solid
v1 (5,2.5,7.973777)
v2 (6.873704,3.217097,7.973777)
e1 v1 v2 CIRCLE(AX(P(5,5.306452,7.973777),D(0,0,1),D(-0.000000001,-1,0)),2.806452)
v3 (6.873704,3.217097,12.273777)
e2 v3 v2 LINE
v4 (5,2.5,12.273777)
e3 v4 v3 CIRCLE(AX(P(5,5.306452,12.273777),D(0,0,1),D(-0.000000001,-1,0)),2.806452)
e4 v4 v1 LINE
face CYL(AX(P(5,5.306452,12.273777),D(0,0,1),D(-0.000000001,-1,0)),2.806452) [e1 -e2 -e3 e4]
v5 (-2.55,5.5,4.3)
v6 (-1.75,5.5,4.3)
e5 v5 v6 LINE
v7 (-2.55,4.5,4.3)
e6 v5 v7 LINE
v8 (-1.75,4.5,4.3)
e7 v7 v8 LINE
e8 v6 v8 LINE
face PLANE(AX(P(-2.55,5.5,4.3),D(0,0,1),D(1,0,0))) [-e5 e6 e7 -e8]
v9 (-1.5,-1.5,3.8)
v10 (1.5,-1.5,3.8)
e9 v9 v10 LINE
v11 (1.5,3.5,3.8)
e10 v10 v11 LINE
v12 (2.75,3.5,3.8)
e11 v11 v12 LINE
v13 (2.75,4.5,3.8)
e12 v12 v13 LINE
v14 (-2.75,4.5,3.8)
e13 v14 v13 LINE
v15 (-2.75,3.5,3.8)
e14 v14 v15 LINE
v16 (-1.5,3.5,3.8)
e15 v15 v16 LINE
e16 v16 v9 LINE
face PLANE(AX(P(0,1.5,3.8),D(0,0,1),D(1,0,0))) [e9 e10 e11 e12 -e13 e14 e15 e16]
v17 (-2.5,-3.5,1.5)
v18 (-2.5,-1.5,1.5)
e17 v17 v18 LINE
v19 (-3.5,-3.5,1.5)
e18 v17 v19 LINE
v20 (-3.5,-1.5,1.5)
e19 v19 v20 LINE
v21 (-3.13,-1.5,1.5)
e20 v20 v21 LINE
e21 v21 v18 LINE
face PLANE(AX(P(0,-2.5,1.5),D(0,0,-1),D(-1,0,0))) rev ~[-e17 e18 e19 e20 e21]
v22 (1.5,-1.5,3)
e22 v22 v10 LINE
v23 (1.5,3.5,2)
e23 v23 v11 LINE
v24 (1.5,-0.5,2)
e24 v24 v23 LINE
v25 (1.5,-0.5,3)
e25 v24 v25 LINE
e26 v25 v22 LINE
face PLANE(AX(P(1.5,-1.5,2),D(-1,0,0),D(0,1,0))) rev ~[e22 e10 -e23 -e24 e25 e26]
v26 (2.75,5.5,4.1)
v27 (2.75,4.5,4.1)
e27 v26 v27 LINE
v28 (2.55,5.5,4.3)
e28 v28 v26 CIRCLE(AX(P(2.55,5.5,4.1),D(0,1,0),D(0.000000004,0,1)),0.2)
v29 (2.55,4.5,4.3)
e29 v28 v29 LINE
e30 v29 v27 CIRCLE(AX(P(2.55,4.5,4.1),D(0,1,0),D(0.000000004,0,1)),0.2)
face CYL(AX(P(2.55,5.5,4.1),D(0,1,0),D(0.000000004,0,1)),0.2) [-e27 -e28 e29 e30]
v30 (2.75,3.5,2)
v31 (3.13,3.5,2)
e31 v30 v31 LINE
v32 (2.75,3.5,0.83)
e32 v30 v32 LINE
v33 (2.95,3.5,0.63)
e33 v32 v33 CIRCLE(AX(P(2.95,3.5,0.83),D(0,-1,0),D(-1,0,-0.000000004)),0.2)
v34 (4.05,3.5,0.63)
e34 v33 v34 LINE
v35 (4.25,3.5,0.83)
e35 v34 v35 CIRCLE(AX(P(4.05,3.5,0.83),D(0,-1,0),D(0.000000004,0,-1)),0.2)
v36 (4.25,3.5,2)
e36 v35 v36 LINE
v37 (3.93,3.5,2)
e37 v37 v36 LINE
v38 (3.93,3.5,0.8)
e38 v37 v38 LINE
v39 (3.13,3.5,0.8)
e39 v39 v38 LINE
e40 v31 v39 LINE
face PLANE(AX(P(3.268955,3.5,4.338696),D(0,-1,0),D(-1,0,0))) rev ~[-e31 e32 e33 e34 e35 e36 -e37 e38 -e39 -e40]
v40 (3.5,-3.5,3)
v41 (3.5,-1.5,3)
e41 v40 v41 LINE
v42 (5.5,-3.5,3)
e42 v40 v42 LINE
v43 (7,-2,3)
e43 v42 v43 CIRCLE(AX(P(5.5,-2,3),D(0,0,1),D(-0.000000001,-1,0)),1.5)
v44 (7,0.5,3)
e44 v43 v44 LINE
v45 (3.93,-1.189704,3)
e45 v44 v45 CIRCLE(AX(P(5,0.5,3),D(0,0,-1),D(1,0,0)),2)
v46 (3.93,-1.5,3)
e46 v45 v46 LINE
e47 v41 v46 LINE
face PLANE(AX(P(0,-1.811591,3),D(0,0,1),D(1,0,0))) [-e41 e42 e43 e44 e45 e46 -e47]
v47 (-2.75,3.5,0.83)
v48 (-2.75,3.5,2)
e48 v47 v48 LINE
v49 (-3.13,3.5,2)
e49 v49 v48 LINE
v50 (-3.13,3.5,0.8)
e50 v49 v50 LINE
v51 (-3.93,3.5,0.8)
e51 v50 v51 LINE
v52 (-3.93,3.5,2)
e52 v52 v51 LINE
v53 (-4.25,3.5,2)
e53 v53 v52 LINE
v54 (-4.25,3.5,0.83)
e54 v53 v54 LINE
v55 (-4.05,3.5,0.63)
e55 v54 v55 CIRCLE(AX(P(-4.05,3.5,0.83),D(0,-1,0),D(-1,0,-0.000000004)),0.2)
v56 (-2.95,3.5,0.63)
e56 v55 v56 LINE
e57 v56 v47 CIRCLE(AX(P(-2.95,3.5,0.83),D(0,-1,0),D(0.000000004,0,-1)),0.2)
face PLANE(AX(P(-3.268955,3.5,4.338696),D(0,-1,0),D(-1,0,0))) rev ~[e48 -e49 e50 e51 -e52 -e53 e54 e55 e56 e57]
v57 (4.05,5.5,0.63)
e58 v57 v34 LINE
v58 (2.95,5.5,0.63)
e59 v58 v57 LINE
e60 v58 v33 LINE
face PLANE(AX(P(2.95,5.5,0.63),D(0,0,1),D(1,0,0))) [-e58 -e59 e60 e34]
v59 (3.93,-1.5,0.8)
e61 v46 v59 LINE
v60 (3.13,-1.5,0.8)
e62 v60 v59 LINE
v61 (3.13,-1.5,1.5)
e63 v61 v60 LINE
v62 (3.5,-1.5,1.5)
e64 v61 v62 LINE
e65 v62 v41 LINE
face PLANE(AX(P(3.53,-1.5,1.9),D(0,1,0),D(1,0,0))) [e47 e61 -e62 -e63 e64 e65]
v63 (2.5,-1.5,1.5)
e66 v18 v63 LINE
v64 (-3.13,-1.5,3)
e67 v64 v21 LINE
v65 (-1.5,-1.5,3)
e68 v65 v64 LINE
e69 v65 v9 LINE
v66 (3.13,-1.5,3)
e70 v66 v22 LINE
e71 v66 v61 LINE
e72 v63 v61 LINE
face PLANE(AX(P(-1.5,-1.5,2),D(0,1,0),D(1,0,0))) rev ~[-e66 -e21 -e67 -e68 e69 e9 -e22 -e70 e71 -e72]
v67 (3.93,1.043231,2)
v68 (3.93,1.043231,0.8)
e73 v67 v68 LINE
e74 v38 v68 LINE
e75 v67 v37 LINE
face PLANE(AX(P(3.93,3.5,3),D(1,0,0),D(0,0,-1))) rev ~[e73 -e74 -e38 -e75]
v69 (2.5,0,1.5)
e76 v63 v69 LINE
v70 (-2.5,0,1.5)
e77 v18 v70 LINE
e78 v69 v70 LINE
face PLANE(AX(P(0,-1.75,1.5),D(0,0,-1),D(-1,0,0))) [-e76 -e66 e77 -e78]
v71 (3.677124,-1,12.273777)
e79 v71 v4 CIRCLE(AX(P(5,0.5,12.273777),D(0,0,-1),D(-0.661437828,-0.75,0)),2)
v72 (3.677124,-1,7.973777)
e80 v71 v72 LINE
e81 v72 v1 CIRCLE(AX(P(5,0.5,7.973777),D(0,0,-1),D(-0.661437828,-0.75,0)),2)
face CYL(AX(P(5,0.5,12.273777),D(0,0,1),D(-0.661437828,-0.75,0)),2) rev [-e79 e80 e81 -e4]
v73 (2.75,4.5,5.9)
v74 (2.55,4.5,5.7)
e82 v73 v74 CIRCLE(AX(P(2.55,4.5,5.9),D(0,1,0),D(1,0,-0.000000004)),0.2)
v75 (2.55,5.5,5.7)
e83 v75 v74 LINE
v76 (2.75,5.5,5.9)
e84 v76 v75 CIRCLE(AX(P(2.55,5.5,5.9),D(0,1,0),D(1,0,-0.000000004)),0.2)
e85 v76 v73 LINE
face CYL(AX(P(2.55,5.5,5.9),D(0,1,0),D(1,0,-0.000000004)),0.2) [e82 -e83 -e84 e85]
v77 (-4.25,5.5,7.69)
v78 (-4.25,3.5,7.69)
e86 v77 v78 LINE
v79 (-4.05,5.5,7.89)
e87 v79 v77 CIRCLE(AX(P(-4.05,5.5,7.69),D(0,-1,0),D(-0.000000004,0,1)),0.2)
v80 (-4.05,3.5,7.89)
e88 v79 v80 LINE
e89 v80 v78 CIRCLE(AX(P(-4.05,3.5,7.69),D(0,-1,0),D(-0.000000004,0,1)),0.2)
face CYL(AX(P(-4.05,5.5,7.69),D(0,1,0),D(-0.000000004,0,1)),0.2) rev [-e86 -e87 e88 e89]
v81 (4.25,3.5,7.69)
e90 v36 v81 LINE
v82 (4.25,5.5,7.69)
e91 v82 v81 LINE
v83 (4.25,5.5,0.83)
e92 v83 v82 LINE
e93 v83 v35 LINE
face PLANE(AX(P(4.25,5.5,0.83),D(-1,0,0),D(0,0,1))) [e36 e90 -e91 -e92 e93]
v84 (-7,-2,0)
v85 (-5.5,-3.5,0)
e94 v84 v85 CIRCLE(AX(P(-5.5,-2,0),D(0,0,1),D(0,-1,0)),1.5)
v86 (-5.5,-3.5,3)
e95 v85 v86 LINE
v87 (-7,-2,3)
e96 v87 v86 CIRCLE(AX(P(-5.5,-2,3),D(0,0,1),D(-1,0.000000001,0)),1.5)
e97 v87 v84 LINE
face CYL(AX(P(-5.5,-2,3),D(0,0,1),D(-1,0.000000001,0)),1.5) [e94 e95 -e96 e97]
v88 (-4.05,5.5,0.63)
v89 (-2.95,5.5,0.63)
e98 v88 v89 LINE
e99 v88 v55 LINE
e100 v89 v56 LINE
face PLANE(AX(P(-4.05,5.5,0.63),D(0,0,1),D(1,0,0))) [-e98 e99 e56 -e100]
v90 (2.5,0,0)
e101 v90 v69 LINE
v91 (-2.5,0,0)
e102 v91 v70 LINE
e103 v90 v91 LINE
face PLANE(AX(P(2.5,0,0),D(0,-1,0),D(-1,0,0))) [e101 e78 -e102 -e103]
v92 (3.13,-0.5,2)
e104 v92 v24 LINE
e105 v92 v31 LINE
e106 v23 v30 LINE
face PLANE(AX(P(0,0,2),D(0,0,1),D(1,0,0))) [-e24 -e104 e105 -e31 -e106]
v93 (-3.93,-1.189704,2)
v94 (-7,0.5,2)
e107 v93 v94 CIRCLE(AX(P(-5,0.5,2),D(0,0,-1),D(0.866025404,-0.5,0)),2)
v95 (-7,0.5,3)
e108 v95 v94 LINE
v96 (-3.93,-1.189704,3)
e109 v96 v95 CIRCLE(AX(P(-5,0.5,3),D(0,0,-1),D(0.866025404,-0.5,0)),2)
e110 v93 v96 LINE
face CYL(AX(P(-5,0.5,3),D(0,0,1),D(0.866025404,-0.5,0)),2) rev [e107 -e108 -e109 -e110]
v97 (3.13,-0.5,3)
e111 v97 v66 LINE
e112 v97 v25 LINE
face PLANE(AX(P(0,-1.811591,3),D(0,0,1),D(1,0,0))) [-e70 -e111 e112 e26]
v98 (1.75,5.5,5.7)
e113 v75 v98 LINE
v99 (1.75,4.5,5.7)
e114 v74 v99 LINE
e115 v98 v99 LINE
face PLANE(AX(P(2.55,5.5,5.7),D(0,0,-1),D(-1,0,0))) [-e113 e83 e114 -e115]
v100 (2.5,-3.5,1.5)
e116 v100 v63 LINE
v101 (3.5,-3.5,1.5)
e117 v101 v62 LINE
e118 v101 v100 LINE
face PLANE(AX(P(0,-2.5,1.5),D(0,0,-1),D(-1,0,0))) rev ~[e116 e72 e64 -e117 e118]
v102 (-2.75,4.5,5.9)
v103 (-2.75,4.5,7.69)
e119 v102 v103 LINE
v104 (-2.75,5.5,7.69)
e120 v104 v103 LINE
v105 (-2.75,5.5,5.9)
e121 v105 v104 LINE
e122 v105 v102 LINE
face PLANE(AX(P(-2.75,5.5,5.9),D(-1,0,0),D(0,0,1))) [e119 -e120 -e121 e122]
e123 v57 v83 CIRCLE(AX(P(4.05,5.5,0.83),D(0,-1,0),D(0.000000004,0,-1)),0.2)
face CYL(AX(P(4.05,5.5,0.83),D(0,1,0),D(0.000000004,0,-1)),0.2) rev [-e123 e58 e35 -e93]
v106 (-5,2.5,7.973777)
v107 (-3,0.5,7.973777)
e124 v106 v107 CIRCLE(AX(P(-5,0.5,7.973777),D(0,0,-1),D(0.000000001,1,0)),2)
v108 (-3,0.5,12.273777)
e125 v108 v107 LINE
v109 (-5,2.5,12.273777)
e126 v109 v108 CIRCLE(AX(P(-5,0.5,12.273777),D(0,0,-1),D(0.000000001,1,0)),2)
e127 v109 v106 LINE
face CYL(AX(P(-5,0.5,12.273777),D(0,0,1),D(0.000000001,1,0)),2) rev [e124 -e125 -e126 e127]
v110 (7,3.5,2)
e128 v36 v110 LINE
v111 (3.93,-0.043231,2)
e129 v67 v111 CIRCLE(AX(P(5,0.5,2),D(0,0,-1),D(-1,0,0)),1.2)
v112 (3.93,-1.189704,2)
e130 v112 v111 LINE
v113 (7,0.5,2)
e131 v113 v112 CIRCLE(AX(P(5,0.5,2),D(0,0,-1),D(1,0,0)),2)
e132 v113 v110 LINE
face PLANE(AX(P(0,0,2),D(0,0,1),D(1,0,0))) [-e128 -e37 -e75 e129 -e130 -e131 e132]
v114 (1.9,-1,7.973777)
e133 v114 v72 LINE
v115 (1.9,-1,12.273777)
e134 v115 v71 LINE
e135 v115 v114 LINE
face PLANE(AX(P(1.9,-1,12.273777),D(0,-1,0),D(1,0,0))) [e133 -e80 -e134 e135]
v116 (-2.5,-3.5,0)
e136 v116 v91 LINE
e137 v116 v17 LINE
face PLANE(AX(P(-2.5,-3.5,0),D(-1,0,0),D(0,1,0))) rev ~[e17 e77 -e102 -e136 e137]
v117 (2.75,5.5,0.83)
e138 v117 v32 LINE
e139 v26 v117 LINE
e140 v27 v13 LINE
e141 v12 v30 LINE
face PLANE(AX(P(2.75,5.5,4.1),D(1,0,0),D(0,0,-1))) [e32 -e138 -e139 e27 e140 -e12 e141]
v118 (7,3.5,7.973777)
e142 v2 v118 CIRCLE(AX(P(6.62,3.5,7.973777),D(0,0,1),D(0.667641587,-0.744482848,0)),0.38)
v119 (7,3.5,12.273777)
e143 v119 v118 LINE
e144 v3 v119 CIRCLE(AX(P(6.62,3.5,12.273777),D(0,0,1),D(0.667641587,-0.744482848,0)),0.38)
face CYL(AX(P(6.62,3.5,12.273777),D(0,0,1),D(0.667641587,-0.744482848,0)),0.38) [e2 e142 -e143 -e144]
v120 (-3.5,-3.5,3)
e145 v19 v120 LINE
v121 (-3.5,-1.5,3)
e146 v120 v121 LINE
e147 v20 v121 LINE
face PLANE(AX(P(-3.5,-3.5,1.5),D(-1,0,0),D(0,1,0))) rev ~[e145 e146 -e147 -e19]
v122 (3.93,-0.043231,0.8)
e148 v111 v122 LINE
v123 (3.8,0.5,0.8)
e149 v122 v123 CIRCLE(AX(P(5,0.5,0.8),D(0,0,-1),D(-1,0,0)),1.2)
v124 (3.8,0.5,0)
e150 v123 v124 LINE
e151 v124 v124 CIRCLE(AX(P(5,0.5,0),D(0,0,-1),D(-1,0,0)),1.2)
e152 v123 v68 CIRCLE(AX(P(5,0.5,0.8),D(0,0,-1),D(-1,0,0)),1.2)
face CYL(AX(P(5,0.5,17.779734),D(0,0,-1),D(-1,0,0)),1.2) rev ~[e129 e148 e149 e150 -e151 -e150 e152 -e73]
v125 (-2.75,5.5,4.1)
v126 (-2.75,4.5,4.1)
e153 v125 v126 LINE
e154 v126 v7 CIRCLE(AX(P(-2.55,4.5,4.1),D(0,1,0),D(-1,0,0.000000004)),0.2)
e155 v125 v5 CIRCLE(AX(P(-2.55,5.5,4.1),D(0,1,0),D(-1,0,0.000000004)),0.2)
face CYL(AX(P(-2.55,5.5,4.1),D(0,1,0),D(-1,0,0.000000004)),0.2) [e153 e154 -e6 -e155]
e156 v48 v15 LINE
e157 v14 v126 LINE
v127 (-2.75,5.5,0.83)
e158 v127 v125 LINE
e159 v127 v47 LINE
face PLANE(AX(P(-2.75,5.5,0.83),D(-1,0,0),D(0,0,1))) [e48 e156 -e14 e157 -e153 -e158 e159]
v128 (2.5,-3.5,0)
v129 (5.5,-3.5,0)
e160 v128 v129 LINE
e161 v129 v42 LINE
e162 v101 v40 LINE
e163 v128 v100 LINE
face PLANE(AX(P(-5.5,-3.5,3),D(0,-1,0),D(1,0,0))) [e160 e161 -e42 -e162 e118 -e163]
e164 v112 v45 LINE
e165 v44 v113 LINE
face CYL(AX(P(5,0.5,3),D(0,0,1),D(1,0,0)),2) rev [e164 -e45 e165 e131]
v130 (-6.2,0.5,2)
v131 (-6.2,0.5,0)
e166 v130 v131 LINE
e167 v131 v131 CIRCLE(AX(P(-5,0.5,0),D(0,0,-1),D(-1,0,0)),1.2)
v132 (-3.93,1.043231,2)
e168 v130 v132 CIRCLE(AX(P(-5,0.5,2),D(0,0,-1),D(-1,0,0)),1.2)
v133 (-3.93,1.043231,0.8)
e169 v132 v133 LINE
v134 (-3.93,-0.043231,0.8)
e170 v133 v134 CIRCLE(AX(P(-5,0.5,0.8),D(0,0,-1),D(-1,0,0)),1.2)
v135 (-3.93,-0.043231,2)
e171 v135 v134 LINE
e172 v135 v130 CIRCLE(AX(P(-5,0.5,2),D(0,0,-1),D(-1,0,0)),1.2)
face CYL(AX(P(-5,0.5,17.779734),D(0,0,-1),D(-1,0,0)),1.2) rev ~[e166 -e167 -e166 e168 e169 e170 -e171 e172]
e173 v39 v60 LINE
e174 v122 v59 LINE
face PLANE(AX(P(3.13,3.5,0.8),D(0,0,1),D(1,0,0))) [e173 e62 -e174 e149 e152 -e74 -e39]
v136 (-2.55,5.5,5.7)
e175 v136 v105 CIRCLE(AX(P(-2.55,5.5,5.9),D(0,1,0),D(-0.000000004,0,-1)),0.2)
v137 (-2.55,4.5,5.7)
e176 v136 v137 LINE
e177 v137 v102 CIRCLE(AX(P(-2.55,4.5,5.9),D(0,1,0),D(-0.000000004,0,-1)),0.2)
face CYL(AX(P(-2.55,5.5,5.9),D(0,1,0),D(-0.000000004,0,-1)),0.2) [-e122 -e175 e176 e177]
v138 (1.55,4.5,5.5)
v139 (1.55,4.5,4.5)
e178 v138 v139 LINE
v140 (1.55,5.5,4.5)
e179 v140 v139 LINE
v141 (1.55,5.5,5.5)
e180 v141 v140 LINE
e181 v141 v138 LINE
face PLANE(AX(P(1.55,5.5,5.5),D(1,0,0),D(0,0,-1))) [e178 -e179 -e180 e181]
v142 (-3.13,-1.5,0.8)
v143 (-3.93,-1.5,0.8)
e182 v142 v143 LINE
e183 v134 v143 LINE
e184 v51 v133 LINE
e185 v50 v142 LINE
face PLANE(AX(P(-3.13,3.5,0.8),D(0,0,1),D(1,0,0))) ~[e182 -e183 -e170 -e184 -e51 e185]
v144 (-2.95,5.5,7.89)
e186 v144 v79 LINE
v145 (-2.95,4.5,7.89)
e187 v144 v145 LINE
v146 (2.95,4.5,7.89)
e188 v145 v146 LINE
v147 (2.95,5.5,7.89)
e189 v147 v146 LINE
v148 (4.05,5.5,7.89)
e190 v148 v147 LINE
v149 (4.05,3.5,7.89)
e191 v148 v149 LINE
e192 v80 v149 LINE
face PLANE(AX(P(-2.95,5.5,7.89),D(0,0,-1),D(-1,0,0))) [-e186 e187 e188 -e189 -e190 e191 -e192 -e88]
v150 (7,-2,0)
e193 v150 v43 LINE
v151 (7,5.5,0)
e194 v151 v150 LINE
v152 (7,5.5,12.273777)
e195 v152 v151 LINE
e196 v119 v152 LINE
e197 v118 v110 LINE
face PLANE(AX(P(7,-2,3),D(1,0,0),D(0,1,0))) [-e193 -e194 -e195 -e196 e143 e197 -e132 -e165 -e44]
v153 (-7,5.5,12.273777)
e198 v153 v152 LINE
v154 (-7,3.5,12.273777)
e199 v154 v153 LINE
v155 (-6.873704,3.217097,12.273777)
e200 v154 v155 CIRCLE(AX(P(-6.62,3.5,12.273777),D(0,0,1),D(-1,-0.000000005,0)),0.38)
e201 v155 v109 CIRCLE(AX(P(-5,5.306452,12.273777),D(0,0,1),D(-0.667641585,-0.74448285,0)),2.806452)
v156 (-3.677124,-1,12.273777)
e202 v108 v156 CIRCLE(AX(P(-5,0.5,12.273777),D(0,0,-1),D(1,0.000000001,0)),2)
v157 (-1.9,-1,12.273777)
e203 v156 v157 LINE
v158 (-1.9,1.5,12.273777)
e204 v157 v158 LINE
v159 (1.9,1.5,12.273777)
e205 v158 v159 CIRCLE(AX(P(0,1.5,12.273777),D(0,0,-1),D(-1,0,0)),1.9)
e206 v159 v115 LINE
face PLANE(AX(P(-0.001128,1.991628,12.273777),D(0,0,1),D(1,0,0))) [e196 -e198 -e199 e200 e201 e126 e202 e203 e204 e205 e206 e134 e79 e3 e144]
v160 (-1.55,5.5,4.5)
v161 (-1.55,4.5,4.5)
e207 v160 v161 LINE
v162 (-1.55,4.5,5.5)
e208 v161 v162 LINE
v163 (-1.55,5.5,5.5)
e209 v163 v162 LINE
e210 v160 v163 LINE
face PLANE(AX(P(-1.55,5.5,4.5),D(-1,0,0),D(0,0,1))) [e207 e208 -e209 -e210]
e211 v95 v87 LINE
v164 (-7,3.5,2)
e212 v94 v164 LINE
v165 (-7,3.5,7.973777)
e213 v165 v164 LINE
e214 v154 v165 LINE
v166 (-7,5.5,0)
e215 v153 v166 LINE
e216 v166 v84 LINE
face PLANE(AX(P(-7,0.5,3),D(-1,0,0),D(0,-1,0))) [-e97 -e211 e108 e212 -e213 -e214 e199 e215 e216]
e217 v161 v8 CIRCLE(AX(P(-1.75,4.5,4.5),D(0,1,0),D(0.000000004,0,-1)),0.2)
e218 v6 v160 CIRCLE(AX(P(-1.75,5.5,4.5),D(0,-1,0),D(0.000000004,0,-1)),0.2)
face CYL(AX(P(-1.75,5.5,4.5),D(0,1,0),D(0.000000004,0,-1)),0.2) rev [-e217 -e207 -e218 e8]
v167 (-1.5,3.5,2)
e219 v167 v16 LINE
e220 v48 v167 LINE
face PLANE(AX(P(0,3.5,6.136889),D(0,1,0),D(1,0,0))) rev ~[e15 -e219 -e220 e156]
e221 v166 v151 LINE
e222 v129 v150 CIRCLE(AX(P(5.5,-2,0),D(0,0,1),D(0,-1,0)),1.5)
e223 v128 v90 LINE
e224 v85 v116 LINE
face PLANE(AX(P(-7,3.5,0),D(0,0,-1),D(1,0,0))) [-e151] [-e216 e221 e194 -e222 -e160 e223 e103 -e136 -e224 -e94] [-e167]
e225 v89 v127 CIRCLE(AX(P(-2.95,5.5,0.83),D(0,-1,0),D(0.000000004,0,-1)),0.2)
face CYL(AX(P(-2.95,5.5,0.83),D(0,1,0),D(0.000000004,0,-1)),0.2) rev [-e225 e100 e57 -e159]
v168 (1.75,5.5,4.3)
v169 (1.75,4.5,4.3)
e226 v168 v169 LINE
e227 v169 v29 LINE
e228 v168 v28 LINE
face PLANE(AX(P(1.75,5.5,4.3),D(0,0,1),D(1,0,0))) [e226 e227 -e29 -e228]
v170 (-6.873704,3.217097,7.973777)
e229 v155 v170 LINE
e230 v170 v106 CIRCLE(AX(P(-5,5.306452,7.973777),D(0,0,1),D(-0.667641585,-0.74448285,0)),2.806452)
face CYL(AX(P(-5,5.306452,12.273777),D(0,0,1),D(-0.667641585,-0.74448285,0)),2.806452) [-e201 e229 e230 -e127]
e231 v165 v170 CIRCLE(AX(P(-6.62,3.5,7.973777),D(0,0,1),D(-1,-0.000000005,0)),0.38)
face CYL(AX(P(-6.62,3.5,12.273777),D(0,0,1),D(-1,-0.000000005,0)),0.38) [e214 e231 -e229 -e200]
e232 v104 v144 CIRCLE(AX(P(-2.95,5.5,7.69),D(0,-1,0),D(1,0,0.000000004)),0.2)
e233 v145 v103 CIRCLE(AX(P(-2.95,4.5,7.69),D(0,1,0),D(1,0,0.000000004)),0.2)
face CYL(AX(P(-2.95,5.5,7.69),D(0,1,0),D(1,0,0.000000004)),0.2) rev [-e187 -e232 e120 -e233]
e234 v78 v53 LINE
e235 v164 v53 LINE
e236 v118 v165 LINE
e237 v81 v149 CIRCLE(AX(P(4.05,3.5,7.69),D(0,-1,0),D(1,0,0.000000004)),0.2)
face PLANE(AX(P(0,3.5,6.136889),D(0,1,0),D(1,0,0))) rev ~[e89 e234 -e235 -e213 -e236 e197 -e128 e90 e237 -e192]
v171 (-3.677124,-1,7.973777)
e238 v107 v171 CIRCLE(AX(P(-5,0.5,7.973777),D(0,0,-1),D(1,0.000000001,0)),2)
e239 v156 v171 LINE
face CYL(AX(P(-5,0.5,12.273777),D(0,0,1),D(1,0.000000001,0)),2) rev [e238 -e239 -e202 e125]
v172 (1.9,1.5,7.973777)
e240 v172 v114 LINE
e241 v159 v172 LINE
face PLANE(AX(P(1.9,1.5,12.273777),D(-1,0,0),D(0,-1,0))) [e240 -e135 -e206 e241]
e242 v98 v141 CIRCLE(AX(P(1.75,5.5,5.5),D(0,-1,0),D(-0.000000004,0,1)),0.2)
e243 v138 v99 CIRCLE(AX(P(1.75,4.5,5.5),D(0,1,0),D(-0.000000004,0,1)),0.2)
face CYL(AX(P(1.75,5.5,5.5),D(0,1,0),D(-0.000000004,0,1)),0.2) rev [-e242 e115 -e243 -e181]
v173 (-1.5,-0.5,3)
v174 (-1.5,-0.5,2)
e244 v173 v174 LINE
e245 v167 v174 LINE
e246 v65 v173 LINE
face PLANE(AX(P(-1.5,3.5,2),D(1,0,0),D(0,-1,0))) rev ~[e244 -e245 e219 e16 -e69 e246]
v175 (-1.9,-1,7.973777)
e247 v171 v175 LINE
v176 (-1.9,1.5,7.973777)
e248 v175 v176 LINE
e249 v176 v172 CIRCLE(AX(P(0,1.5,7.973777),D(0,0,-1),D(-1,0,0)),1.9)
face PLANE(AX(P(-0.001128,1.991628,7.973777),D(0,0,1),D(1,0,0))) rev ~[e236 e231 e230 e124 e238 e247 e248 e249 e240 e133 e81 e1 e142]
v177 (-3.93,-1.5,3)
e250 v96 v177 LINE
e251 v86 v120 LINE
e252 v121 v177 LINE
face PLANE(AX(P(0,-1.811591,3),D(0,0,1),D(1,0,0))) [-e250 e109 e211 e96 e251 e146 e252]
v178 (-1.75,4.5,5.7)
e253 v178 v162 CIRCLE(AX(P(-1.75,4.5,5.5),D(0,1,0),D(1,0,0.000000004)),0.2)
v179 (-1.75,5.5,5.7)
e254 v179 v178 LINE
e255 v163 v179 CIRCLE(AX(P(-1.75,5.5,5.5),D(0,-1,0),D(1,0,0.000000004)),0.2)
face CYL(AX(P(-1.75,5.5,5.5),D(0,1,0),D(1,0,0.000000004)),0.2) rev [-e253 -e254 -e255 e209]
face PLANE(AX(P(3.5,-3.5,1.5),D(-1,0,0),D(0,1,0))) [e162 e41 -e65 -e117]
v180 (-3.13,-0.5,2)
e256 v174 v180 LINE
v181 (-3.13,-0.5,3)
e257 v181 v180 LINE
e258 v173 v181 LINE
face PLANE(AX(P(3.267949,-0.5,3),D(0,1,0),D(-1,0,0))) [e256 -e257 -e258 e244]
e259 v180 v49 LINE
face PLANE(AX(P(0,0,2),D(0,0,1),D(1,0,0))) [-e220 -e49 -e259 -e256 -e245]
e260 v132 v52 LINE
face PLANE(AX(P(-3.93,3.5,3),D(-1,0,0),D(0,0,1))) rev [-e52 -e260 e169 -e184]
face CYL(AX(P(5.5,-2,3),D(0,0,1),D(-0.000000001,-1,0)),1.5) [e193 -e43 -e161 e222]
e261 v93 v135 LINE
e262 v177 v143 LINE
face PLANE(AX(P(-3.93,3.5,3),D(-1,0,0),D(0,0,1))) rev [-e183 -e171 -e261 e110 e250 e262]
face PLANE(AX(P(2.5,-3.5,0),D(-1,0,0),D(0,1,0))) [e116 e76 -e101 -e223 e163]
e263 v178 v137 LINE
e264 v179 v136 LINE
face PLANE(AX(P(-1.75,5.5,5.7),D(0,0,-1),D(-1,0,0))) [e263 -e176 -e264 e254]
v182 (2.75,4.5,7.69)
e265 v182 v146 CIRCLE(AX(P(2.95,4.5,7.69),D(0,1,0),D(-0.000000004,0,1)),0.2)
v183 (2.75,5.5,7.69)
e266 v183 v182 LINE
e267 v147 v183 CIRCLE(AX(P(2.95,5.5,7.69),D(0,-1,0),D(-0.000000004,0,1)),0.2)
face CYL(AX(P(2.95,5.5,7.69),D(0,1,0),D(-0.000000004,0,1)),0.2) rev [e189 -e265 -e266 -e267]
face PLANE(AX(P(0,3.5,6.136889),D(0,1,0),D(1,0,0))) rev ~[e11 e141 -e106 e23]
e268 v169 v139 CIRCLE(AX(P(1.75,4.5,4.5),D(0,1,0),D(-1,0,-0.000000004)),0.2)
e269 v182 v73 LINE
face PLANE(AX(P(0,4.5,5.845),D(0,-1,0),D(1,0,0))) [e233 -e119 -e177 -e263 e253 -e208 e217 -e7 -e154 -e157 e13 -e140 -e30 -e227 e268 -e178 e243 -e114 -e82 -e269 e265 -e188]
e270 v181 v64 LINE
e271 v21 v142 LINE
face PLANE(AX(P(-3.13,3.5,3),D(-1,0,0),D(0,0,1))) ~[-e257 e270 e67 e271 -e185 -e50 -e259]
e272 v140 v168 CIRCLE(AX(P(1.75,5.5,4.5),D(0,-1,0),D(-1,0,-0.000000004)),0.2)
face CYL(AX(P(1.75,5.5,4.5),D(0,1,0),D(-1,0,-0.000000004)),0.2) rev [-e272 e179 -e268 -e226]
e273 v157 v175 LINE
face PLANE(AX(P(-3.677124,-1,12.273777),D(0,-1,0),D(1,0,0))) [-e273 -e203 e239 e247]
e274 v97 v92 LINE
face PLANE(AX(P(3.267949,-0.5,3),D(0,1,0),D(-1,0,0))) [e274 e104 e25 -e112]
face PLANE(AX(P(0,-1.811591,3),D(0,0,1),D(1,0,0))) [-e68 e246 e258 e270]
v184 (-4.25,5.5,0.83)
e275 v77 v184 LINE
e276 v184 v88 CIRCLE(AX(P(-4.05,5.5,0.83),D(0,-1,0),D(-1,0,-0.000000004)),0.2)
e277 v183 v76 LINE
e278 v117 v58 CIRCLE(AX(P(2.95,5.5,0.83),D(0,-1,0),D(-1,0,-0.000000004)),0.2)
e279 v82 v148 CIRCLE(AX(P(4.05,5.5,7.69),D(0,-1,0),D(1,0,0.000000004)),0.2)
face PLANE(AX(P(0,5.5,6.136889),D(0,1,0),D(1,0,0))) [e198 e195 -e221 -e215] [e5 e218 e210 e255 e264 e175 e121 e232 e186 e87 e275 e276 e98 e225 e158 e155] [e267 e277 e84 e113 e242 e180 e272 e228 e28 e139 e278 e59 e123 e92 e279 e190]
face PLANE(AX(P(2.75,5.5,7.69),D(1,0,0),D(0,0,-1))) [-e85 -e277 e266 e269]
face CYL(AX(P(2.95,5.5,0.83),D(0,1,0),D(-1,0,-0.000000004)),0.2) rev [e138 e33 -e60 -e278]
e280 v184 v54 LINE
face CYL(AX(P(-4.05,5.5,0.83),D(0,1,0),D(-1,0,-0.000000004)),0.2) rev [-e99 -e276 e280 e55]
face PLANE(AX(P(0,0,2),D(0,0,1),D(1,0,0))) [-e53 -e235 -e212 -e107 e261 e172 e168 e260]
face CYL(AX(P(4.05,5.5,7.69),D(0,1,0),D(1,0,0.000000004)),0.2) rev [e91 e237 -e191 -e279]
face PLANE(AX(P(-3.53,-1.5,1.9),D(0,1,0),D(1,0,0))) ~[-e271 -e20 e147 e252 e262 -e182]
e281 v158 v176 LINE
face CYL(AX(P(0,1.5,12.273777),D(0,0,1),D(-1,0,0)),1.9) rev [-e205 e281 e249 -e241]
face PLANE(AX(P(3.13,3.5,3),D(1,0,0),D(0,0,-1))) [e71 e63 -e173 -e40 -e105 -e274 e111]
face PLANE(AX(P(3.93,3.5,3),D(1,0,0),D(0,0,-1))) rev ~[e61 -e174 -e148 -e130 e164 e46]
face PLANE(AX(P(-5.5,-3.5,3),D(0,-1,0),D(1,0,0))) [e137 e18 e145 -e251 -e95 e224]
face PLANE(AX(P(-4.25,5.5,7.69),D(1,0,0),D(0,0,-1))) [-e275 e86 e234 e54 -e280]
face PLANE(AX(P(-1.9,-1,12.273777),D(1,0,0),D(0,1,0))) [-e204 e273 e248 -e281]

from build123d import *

# Parameters (mm, degrees)
SKETCH1_W            = 14
SKETCH1_H            = 7
BOSS_EXTRUDE1_DEPTH  = 2
FILLET1_R            = 1.5
M2_CLEARANCE_HOLE1_D = 2.4
SKETCH4_W            = 14
SKETCH4_H            = 12.27377735
BOSS_EXTRUDE2_DEPTH  = 2
BOSS_EXTRUDE3_START  = 1
BOSS_EXTRUDE3_DEPTH  = 1
SKETCH6_W            = 5
SKETCH6_H            = 3.5
CUT_EXTRUDE1_DEPTH   = 1.5
CUT_EXTRUDE2_REACH   = 15.976
SKETCH7_W            = 7
SKETCH7_H            = 2
SKETCH8_W            = 3
SKETCH8_H            = 4
SKETCH8_H_2          = 1
BOSS_EXTRUDE4_DEPTH  = 1.8
CUT_EXTRUDE3_DEPTH   = 2
SKETCH10_W           = 8.1
SKETCH10_H           = 4.09
CUT_EXTRUDE4_DEPTH   = 1
BOSS_EXTRUDE5_DEPTH  = 4.3
SKETCH13_W           = 0.8
SKETCH13_H           = 2.2
CUT_EXTRUDE5_DEPTH   = 5


with BuildPart() as part:
    # Sketch1 → Boss-Extrude1 (new body)
    with BuildSketch(Plane.XY):
        Rectangle(SKETCH1_W, SKETCH1_H)
    extrude(amount=BOSS_EXTRUDE1_DEPTH)

    # Fillet1
    fillet1_edges = [part.edges().sort_by_distance(p)[0] for p in [
        (7, -3.5, 1),
        (-7, -3.5, 1),
    ]]
    fillet(fillet1_edges, radius=FILLET1_R)

    # M2 Clearance Hole1 (through all)
    with Locations(Plane.XY.offset(2)):
        with Locations((-5, 0.5), (5, 0.5)):
            Hole(M2_CLEARANCE_HOLE1_D / 2)

    # Sketch4 → Boss-Extrude2 (add)
    with BuildSketch(Plane(origin=(0, 3.5, 0), x_dir=(1, 0, 0), z_dir=(0, 1, 0))):
        with Locations((0, -6.136888675)):
            Rectangle(SKETCH4_W, SKETCH4_H)
    extrude(amount=BOSS_EXTRUDE2_DEPTH)

    # Sketch5 → Boss-Extrude3 (add)
    with BuildSketch(Plane.XY.offset(2).offset(BOSS_EXTRUDE3_START)):
        with BuildLine():
            ThreePointArc((-7, -2), (-6.560660172, -3.060660172), (-5.5, -3.5))
            Line((-5.5, -3.5), (5.5, -3.5))
            ThreePointArc((5.5, -3.5), (6.560660172, -3.060660172), (7, -2))
            Line((7, -2), (7, 0.5))
            ThreePointArc((7, 0.5), (5.51763809, -1.431851653), (3.267949192, -0.5))
            Line((3.267949192, -0.5), (-3.267949192, -0.5))
            ThreePointArc((-3.267949192, -0.5), (-5.51763809, -1.431851653), (-7, 0.5))
            Line((-7, 0.5), (-7, -2))
        make_face()
    extrude(amount=-BOSS_EXTRUDE3_DEPTH)

    # Sketch6 → Cut-Extrude1 (cut)
    with BuildSketch(Plane(origin=(0, 0, 0), x_dir=(-1, 0, 0), z_dir=(0, 0, -1))):
        with Locations((0, -1.75)):
            Rectangle(SKETCH6_W, SKETCH6_H)
    extrude(amount=-CUT_EXTRUDE1_DEPTH, mode=Mode.SUBTRACT)

    # Sketch7 → Cut-Extrude2 (cut, up to next)
    with BuildSketch(Plane(origin=(0, 0, 1.5), x_dir=(-1, 0, 0), z_dir=(0, 0, -1)), mode=Mode.PRIVATE) as cut_extrude2_sk1:
        with Locations((0, -2.5)):
            Rectangle(SKETCH7_W, SKETCH7_H)
    cut_extrude2_tool1 = extrude(cut_extrude2_sk1.sketch, amount=-CUT_EXTRUDE2_REACH, mode=Mode.PRIVATE) & part.part
    add(cut_extrude2_tool1.solids().sort_by_distance((0, -2.5, 1.5))[0], mode=Mode.SUBTRACT)

    # Sketch8 → Boss-Extrude4 (add)
    with BuildSketch(Plane.XY.offset(2)):
        with Locations((0, 1.5)):
            Rectangle(SKETCH8_W, SKETCH8_H)
        with Locations((0, -1)):
            Rectangle(SKETCH8_W, SKETCH8_H_2)
    extrude(amount=BOSS_EXTRUDE4_DEPTH)

    # Sketch9 → Cut-Extrude3 (cut)
    with BuildSketch(Plane(origin=(0, 5.5, 0), x_dir=(1, 0, 0), z_dir=(0, 1, 0))):
        with BuildLine():
            Line((-2.95, -7.89), (-4.05, -7.89))
            ThreePointArc((-4.05, -7.89), (-4.191421356, -7.831421356), (-4.25, -7.69))
            Line((-4.25, -7.69), (-4.25, -0.83))
            ThreePointArc((-4.25, -0.83), (-4.191421356, -0.688578644), (-4.05, -0.63))
            Line((-4.05, -0.63), (-2.95, -0.63))
            ThreePointArc((-2.95, -0.63), (-2.808578644, -0.688578644), (-2.75, -0.83))
            Line((-2.75, -0.83), (-2.75, -4.1))
            ThreePointArc((-2.75, -4.1), (-2.691421356, -4.241421356), (-2.55, -4.3))
            Line((-2.55, -4.3), (-1.75, -4.3))
            ThreePointArc((-1.75, -4.3), (-1.608578644, -4.358578644), (-1.55, -4.5))
            Line((-1.55, -4.5), (-1.55, -5.5))
            ThreePointArc((-1.55, -5.5), (-1.608578644, -5.641421356), (-1.75, -5.7))
            Line((-1.75, -5.7), (-2.55, -5.7))
            ThreePointArc((-2.55, -5.7), (-2.691421356, -5.758578644), (-2.75, -5.9))
            Line((-2.75, -5.9), (-2.75, -7.69))
            ThreePointArc((-2.75, -7.69), (-2.808578644, -7.831421356), (-2.95, -7.89))
        make_face()
        with BuildLine():
            Line((2.75, -4.1), (2.75, -0.83))
            ThreePointArc((2.75, -0.83), (2.808578644, -0.688578644), (2.95, -0.63))
            Line((2.95, -0.63), (4.05, -0.63))
            ThreePointArc((4.05, -0.63), (4.191421356, -0.688578644), (4.25, -0.83))
            Line((4.25, -0.83), (4.25, -7.69))
            ThreePointArc((4.25, -7.69), (4.191421356, -7.831421356), (4.05, -7.89))
            Line((4.05, -7.89), (2.95, -7.89))
            ThreePointArc((2.95, -7.89), (2.808578644, -7.831421356), (2.75, -7.69))
            Line((2.75, -7.69), (2.75, -5.9))
            ThreePointArc((2.75, -5.9), (2.691421356, -5.758578644), (2.55, -5.7))
            Line((2.55, -5.7), (1.75, -5.7))
            ThreePointArc((1.75, -5.7), (1.608578644, -5.641421356), (1.55, -5.5))
            Line((1.55, -5.5), (1.55, -4.5))
            ThreePointArc((1.55, -4.5), (1.608578644, -4.358578644), (1.75, -4.3))
            Line((1.75, -4.3), (2.55, -4.3))
            ThreePointArc((2.55, -4.3), (2.691421356, -4.241421356), (2.75, -4.1))
        make_face()
    extrude(amount=-CUT_EXTRUDE3_DEPTH, mode=Mode.SUBTRACT)

    # Sketch10 → Cut-Extrude4 (cut)
    with BuildSketch(Plane.XZ.offset(-3.5)):
        with Locations((0, 5.845)):
            Rectangle(SKETCH10_W, SKETCH10_H)
    extrude(amount=-CUT_EXTRUDE4_DEPTH, mode=Mode.SUBTRACT)

    # Sketch12 → Boss-Extrude5 (add)
    with BuildSketch(Plane.XY.offset(12.27377735)):
        with BuildLine():
            Line((7, 3.5), (-7, 3.5))
            ThreePointArc((-7, 3.5), (-6.966992395, 3.345092681), (-6.873703802, 3.217096517))
            ThreePointArc((-6.873703802, 3.217096517), (-6.003119304, 2.685397947), (-5, 2.5))
            ThreePointArc((-5, 2.5), (-3.585786438, 1.914213562), (-3, 0.5))
            ThreePointArc((-3, 0.5), (-3.177124344, -0.322875656), (-3.677124344, -1))
            Line((-3.677124344, -1), (-1.9, -1))
            Line((-1.9, -1), (-1.9, 1.5))
            ThreePointArc((-1.9, 1.5), (0, 3.4), (1.9, 1.5))
            Line((1.9, 1.5), (1.9, -1))
            Line((1.9, -1), (3.677124344, -1))
            ThreePointArc((3.677124344, -1), (3.129171307, 1.207106781), (5, 2.5))
            ThreePointArc((5, 2.5), (6.003119304, 2.685397947), (6.873703802, 3.217096517))
            ThreePointArc((6.873703802, 3.217096517), (6.966992395, 3.345092681), (7, 3.5))
        make_face()
    extrude(amount=-BOSS_EXTRUDE5_DEPTH)

    # Sketch13 → Cut-Extrude5 (cut)
    with BuildSketch(Plane(origin=(0, 3.5, 0), x_dir=(1, 0, 0), z_dir=(0, 1, 0))):
        with Locations((3.53, -1.9)):
            Rectangle(SKETCH13_W, SKETCH13_H)
    cut_extrude5 = extrude(amount=-CUT_EXTRUDE5_DEPTH, mode=Mode.SUBTRACT)

    # Mirror1: Cut-Extrude5 across plane
    add(cut_extrude5.mirror(Plane(origin=(0, 0, 0), x_dir=(0, 0, 1), z_dir=(1, 0, 0))), mode=Mode.SUBTRACT)


solid = part.part
